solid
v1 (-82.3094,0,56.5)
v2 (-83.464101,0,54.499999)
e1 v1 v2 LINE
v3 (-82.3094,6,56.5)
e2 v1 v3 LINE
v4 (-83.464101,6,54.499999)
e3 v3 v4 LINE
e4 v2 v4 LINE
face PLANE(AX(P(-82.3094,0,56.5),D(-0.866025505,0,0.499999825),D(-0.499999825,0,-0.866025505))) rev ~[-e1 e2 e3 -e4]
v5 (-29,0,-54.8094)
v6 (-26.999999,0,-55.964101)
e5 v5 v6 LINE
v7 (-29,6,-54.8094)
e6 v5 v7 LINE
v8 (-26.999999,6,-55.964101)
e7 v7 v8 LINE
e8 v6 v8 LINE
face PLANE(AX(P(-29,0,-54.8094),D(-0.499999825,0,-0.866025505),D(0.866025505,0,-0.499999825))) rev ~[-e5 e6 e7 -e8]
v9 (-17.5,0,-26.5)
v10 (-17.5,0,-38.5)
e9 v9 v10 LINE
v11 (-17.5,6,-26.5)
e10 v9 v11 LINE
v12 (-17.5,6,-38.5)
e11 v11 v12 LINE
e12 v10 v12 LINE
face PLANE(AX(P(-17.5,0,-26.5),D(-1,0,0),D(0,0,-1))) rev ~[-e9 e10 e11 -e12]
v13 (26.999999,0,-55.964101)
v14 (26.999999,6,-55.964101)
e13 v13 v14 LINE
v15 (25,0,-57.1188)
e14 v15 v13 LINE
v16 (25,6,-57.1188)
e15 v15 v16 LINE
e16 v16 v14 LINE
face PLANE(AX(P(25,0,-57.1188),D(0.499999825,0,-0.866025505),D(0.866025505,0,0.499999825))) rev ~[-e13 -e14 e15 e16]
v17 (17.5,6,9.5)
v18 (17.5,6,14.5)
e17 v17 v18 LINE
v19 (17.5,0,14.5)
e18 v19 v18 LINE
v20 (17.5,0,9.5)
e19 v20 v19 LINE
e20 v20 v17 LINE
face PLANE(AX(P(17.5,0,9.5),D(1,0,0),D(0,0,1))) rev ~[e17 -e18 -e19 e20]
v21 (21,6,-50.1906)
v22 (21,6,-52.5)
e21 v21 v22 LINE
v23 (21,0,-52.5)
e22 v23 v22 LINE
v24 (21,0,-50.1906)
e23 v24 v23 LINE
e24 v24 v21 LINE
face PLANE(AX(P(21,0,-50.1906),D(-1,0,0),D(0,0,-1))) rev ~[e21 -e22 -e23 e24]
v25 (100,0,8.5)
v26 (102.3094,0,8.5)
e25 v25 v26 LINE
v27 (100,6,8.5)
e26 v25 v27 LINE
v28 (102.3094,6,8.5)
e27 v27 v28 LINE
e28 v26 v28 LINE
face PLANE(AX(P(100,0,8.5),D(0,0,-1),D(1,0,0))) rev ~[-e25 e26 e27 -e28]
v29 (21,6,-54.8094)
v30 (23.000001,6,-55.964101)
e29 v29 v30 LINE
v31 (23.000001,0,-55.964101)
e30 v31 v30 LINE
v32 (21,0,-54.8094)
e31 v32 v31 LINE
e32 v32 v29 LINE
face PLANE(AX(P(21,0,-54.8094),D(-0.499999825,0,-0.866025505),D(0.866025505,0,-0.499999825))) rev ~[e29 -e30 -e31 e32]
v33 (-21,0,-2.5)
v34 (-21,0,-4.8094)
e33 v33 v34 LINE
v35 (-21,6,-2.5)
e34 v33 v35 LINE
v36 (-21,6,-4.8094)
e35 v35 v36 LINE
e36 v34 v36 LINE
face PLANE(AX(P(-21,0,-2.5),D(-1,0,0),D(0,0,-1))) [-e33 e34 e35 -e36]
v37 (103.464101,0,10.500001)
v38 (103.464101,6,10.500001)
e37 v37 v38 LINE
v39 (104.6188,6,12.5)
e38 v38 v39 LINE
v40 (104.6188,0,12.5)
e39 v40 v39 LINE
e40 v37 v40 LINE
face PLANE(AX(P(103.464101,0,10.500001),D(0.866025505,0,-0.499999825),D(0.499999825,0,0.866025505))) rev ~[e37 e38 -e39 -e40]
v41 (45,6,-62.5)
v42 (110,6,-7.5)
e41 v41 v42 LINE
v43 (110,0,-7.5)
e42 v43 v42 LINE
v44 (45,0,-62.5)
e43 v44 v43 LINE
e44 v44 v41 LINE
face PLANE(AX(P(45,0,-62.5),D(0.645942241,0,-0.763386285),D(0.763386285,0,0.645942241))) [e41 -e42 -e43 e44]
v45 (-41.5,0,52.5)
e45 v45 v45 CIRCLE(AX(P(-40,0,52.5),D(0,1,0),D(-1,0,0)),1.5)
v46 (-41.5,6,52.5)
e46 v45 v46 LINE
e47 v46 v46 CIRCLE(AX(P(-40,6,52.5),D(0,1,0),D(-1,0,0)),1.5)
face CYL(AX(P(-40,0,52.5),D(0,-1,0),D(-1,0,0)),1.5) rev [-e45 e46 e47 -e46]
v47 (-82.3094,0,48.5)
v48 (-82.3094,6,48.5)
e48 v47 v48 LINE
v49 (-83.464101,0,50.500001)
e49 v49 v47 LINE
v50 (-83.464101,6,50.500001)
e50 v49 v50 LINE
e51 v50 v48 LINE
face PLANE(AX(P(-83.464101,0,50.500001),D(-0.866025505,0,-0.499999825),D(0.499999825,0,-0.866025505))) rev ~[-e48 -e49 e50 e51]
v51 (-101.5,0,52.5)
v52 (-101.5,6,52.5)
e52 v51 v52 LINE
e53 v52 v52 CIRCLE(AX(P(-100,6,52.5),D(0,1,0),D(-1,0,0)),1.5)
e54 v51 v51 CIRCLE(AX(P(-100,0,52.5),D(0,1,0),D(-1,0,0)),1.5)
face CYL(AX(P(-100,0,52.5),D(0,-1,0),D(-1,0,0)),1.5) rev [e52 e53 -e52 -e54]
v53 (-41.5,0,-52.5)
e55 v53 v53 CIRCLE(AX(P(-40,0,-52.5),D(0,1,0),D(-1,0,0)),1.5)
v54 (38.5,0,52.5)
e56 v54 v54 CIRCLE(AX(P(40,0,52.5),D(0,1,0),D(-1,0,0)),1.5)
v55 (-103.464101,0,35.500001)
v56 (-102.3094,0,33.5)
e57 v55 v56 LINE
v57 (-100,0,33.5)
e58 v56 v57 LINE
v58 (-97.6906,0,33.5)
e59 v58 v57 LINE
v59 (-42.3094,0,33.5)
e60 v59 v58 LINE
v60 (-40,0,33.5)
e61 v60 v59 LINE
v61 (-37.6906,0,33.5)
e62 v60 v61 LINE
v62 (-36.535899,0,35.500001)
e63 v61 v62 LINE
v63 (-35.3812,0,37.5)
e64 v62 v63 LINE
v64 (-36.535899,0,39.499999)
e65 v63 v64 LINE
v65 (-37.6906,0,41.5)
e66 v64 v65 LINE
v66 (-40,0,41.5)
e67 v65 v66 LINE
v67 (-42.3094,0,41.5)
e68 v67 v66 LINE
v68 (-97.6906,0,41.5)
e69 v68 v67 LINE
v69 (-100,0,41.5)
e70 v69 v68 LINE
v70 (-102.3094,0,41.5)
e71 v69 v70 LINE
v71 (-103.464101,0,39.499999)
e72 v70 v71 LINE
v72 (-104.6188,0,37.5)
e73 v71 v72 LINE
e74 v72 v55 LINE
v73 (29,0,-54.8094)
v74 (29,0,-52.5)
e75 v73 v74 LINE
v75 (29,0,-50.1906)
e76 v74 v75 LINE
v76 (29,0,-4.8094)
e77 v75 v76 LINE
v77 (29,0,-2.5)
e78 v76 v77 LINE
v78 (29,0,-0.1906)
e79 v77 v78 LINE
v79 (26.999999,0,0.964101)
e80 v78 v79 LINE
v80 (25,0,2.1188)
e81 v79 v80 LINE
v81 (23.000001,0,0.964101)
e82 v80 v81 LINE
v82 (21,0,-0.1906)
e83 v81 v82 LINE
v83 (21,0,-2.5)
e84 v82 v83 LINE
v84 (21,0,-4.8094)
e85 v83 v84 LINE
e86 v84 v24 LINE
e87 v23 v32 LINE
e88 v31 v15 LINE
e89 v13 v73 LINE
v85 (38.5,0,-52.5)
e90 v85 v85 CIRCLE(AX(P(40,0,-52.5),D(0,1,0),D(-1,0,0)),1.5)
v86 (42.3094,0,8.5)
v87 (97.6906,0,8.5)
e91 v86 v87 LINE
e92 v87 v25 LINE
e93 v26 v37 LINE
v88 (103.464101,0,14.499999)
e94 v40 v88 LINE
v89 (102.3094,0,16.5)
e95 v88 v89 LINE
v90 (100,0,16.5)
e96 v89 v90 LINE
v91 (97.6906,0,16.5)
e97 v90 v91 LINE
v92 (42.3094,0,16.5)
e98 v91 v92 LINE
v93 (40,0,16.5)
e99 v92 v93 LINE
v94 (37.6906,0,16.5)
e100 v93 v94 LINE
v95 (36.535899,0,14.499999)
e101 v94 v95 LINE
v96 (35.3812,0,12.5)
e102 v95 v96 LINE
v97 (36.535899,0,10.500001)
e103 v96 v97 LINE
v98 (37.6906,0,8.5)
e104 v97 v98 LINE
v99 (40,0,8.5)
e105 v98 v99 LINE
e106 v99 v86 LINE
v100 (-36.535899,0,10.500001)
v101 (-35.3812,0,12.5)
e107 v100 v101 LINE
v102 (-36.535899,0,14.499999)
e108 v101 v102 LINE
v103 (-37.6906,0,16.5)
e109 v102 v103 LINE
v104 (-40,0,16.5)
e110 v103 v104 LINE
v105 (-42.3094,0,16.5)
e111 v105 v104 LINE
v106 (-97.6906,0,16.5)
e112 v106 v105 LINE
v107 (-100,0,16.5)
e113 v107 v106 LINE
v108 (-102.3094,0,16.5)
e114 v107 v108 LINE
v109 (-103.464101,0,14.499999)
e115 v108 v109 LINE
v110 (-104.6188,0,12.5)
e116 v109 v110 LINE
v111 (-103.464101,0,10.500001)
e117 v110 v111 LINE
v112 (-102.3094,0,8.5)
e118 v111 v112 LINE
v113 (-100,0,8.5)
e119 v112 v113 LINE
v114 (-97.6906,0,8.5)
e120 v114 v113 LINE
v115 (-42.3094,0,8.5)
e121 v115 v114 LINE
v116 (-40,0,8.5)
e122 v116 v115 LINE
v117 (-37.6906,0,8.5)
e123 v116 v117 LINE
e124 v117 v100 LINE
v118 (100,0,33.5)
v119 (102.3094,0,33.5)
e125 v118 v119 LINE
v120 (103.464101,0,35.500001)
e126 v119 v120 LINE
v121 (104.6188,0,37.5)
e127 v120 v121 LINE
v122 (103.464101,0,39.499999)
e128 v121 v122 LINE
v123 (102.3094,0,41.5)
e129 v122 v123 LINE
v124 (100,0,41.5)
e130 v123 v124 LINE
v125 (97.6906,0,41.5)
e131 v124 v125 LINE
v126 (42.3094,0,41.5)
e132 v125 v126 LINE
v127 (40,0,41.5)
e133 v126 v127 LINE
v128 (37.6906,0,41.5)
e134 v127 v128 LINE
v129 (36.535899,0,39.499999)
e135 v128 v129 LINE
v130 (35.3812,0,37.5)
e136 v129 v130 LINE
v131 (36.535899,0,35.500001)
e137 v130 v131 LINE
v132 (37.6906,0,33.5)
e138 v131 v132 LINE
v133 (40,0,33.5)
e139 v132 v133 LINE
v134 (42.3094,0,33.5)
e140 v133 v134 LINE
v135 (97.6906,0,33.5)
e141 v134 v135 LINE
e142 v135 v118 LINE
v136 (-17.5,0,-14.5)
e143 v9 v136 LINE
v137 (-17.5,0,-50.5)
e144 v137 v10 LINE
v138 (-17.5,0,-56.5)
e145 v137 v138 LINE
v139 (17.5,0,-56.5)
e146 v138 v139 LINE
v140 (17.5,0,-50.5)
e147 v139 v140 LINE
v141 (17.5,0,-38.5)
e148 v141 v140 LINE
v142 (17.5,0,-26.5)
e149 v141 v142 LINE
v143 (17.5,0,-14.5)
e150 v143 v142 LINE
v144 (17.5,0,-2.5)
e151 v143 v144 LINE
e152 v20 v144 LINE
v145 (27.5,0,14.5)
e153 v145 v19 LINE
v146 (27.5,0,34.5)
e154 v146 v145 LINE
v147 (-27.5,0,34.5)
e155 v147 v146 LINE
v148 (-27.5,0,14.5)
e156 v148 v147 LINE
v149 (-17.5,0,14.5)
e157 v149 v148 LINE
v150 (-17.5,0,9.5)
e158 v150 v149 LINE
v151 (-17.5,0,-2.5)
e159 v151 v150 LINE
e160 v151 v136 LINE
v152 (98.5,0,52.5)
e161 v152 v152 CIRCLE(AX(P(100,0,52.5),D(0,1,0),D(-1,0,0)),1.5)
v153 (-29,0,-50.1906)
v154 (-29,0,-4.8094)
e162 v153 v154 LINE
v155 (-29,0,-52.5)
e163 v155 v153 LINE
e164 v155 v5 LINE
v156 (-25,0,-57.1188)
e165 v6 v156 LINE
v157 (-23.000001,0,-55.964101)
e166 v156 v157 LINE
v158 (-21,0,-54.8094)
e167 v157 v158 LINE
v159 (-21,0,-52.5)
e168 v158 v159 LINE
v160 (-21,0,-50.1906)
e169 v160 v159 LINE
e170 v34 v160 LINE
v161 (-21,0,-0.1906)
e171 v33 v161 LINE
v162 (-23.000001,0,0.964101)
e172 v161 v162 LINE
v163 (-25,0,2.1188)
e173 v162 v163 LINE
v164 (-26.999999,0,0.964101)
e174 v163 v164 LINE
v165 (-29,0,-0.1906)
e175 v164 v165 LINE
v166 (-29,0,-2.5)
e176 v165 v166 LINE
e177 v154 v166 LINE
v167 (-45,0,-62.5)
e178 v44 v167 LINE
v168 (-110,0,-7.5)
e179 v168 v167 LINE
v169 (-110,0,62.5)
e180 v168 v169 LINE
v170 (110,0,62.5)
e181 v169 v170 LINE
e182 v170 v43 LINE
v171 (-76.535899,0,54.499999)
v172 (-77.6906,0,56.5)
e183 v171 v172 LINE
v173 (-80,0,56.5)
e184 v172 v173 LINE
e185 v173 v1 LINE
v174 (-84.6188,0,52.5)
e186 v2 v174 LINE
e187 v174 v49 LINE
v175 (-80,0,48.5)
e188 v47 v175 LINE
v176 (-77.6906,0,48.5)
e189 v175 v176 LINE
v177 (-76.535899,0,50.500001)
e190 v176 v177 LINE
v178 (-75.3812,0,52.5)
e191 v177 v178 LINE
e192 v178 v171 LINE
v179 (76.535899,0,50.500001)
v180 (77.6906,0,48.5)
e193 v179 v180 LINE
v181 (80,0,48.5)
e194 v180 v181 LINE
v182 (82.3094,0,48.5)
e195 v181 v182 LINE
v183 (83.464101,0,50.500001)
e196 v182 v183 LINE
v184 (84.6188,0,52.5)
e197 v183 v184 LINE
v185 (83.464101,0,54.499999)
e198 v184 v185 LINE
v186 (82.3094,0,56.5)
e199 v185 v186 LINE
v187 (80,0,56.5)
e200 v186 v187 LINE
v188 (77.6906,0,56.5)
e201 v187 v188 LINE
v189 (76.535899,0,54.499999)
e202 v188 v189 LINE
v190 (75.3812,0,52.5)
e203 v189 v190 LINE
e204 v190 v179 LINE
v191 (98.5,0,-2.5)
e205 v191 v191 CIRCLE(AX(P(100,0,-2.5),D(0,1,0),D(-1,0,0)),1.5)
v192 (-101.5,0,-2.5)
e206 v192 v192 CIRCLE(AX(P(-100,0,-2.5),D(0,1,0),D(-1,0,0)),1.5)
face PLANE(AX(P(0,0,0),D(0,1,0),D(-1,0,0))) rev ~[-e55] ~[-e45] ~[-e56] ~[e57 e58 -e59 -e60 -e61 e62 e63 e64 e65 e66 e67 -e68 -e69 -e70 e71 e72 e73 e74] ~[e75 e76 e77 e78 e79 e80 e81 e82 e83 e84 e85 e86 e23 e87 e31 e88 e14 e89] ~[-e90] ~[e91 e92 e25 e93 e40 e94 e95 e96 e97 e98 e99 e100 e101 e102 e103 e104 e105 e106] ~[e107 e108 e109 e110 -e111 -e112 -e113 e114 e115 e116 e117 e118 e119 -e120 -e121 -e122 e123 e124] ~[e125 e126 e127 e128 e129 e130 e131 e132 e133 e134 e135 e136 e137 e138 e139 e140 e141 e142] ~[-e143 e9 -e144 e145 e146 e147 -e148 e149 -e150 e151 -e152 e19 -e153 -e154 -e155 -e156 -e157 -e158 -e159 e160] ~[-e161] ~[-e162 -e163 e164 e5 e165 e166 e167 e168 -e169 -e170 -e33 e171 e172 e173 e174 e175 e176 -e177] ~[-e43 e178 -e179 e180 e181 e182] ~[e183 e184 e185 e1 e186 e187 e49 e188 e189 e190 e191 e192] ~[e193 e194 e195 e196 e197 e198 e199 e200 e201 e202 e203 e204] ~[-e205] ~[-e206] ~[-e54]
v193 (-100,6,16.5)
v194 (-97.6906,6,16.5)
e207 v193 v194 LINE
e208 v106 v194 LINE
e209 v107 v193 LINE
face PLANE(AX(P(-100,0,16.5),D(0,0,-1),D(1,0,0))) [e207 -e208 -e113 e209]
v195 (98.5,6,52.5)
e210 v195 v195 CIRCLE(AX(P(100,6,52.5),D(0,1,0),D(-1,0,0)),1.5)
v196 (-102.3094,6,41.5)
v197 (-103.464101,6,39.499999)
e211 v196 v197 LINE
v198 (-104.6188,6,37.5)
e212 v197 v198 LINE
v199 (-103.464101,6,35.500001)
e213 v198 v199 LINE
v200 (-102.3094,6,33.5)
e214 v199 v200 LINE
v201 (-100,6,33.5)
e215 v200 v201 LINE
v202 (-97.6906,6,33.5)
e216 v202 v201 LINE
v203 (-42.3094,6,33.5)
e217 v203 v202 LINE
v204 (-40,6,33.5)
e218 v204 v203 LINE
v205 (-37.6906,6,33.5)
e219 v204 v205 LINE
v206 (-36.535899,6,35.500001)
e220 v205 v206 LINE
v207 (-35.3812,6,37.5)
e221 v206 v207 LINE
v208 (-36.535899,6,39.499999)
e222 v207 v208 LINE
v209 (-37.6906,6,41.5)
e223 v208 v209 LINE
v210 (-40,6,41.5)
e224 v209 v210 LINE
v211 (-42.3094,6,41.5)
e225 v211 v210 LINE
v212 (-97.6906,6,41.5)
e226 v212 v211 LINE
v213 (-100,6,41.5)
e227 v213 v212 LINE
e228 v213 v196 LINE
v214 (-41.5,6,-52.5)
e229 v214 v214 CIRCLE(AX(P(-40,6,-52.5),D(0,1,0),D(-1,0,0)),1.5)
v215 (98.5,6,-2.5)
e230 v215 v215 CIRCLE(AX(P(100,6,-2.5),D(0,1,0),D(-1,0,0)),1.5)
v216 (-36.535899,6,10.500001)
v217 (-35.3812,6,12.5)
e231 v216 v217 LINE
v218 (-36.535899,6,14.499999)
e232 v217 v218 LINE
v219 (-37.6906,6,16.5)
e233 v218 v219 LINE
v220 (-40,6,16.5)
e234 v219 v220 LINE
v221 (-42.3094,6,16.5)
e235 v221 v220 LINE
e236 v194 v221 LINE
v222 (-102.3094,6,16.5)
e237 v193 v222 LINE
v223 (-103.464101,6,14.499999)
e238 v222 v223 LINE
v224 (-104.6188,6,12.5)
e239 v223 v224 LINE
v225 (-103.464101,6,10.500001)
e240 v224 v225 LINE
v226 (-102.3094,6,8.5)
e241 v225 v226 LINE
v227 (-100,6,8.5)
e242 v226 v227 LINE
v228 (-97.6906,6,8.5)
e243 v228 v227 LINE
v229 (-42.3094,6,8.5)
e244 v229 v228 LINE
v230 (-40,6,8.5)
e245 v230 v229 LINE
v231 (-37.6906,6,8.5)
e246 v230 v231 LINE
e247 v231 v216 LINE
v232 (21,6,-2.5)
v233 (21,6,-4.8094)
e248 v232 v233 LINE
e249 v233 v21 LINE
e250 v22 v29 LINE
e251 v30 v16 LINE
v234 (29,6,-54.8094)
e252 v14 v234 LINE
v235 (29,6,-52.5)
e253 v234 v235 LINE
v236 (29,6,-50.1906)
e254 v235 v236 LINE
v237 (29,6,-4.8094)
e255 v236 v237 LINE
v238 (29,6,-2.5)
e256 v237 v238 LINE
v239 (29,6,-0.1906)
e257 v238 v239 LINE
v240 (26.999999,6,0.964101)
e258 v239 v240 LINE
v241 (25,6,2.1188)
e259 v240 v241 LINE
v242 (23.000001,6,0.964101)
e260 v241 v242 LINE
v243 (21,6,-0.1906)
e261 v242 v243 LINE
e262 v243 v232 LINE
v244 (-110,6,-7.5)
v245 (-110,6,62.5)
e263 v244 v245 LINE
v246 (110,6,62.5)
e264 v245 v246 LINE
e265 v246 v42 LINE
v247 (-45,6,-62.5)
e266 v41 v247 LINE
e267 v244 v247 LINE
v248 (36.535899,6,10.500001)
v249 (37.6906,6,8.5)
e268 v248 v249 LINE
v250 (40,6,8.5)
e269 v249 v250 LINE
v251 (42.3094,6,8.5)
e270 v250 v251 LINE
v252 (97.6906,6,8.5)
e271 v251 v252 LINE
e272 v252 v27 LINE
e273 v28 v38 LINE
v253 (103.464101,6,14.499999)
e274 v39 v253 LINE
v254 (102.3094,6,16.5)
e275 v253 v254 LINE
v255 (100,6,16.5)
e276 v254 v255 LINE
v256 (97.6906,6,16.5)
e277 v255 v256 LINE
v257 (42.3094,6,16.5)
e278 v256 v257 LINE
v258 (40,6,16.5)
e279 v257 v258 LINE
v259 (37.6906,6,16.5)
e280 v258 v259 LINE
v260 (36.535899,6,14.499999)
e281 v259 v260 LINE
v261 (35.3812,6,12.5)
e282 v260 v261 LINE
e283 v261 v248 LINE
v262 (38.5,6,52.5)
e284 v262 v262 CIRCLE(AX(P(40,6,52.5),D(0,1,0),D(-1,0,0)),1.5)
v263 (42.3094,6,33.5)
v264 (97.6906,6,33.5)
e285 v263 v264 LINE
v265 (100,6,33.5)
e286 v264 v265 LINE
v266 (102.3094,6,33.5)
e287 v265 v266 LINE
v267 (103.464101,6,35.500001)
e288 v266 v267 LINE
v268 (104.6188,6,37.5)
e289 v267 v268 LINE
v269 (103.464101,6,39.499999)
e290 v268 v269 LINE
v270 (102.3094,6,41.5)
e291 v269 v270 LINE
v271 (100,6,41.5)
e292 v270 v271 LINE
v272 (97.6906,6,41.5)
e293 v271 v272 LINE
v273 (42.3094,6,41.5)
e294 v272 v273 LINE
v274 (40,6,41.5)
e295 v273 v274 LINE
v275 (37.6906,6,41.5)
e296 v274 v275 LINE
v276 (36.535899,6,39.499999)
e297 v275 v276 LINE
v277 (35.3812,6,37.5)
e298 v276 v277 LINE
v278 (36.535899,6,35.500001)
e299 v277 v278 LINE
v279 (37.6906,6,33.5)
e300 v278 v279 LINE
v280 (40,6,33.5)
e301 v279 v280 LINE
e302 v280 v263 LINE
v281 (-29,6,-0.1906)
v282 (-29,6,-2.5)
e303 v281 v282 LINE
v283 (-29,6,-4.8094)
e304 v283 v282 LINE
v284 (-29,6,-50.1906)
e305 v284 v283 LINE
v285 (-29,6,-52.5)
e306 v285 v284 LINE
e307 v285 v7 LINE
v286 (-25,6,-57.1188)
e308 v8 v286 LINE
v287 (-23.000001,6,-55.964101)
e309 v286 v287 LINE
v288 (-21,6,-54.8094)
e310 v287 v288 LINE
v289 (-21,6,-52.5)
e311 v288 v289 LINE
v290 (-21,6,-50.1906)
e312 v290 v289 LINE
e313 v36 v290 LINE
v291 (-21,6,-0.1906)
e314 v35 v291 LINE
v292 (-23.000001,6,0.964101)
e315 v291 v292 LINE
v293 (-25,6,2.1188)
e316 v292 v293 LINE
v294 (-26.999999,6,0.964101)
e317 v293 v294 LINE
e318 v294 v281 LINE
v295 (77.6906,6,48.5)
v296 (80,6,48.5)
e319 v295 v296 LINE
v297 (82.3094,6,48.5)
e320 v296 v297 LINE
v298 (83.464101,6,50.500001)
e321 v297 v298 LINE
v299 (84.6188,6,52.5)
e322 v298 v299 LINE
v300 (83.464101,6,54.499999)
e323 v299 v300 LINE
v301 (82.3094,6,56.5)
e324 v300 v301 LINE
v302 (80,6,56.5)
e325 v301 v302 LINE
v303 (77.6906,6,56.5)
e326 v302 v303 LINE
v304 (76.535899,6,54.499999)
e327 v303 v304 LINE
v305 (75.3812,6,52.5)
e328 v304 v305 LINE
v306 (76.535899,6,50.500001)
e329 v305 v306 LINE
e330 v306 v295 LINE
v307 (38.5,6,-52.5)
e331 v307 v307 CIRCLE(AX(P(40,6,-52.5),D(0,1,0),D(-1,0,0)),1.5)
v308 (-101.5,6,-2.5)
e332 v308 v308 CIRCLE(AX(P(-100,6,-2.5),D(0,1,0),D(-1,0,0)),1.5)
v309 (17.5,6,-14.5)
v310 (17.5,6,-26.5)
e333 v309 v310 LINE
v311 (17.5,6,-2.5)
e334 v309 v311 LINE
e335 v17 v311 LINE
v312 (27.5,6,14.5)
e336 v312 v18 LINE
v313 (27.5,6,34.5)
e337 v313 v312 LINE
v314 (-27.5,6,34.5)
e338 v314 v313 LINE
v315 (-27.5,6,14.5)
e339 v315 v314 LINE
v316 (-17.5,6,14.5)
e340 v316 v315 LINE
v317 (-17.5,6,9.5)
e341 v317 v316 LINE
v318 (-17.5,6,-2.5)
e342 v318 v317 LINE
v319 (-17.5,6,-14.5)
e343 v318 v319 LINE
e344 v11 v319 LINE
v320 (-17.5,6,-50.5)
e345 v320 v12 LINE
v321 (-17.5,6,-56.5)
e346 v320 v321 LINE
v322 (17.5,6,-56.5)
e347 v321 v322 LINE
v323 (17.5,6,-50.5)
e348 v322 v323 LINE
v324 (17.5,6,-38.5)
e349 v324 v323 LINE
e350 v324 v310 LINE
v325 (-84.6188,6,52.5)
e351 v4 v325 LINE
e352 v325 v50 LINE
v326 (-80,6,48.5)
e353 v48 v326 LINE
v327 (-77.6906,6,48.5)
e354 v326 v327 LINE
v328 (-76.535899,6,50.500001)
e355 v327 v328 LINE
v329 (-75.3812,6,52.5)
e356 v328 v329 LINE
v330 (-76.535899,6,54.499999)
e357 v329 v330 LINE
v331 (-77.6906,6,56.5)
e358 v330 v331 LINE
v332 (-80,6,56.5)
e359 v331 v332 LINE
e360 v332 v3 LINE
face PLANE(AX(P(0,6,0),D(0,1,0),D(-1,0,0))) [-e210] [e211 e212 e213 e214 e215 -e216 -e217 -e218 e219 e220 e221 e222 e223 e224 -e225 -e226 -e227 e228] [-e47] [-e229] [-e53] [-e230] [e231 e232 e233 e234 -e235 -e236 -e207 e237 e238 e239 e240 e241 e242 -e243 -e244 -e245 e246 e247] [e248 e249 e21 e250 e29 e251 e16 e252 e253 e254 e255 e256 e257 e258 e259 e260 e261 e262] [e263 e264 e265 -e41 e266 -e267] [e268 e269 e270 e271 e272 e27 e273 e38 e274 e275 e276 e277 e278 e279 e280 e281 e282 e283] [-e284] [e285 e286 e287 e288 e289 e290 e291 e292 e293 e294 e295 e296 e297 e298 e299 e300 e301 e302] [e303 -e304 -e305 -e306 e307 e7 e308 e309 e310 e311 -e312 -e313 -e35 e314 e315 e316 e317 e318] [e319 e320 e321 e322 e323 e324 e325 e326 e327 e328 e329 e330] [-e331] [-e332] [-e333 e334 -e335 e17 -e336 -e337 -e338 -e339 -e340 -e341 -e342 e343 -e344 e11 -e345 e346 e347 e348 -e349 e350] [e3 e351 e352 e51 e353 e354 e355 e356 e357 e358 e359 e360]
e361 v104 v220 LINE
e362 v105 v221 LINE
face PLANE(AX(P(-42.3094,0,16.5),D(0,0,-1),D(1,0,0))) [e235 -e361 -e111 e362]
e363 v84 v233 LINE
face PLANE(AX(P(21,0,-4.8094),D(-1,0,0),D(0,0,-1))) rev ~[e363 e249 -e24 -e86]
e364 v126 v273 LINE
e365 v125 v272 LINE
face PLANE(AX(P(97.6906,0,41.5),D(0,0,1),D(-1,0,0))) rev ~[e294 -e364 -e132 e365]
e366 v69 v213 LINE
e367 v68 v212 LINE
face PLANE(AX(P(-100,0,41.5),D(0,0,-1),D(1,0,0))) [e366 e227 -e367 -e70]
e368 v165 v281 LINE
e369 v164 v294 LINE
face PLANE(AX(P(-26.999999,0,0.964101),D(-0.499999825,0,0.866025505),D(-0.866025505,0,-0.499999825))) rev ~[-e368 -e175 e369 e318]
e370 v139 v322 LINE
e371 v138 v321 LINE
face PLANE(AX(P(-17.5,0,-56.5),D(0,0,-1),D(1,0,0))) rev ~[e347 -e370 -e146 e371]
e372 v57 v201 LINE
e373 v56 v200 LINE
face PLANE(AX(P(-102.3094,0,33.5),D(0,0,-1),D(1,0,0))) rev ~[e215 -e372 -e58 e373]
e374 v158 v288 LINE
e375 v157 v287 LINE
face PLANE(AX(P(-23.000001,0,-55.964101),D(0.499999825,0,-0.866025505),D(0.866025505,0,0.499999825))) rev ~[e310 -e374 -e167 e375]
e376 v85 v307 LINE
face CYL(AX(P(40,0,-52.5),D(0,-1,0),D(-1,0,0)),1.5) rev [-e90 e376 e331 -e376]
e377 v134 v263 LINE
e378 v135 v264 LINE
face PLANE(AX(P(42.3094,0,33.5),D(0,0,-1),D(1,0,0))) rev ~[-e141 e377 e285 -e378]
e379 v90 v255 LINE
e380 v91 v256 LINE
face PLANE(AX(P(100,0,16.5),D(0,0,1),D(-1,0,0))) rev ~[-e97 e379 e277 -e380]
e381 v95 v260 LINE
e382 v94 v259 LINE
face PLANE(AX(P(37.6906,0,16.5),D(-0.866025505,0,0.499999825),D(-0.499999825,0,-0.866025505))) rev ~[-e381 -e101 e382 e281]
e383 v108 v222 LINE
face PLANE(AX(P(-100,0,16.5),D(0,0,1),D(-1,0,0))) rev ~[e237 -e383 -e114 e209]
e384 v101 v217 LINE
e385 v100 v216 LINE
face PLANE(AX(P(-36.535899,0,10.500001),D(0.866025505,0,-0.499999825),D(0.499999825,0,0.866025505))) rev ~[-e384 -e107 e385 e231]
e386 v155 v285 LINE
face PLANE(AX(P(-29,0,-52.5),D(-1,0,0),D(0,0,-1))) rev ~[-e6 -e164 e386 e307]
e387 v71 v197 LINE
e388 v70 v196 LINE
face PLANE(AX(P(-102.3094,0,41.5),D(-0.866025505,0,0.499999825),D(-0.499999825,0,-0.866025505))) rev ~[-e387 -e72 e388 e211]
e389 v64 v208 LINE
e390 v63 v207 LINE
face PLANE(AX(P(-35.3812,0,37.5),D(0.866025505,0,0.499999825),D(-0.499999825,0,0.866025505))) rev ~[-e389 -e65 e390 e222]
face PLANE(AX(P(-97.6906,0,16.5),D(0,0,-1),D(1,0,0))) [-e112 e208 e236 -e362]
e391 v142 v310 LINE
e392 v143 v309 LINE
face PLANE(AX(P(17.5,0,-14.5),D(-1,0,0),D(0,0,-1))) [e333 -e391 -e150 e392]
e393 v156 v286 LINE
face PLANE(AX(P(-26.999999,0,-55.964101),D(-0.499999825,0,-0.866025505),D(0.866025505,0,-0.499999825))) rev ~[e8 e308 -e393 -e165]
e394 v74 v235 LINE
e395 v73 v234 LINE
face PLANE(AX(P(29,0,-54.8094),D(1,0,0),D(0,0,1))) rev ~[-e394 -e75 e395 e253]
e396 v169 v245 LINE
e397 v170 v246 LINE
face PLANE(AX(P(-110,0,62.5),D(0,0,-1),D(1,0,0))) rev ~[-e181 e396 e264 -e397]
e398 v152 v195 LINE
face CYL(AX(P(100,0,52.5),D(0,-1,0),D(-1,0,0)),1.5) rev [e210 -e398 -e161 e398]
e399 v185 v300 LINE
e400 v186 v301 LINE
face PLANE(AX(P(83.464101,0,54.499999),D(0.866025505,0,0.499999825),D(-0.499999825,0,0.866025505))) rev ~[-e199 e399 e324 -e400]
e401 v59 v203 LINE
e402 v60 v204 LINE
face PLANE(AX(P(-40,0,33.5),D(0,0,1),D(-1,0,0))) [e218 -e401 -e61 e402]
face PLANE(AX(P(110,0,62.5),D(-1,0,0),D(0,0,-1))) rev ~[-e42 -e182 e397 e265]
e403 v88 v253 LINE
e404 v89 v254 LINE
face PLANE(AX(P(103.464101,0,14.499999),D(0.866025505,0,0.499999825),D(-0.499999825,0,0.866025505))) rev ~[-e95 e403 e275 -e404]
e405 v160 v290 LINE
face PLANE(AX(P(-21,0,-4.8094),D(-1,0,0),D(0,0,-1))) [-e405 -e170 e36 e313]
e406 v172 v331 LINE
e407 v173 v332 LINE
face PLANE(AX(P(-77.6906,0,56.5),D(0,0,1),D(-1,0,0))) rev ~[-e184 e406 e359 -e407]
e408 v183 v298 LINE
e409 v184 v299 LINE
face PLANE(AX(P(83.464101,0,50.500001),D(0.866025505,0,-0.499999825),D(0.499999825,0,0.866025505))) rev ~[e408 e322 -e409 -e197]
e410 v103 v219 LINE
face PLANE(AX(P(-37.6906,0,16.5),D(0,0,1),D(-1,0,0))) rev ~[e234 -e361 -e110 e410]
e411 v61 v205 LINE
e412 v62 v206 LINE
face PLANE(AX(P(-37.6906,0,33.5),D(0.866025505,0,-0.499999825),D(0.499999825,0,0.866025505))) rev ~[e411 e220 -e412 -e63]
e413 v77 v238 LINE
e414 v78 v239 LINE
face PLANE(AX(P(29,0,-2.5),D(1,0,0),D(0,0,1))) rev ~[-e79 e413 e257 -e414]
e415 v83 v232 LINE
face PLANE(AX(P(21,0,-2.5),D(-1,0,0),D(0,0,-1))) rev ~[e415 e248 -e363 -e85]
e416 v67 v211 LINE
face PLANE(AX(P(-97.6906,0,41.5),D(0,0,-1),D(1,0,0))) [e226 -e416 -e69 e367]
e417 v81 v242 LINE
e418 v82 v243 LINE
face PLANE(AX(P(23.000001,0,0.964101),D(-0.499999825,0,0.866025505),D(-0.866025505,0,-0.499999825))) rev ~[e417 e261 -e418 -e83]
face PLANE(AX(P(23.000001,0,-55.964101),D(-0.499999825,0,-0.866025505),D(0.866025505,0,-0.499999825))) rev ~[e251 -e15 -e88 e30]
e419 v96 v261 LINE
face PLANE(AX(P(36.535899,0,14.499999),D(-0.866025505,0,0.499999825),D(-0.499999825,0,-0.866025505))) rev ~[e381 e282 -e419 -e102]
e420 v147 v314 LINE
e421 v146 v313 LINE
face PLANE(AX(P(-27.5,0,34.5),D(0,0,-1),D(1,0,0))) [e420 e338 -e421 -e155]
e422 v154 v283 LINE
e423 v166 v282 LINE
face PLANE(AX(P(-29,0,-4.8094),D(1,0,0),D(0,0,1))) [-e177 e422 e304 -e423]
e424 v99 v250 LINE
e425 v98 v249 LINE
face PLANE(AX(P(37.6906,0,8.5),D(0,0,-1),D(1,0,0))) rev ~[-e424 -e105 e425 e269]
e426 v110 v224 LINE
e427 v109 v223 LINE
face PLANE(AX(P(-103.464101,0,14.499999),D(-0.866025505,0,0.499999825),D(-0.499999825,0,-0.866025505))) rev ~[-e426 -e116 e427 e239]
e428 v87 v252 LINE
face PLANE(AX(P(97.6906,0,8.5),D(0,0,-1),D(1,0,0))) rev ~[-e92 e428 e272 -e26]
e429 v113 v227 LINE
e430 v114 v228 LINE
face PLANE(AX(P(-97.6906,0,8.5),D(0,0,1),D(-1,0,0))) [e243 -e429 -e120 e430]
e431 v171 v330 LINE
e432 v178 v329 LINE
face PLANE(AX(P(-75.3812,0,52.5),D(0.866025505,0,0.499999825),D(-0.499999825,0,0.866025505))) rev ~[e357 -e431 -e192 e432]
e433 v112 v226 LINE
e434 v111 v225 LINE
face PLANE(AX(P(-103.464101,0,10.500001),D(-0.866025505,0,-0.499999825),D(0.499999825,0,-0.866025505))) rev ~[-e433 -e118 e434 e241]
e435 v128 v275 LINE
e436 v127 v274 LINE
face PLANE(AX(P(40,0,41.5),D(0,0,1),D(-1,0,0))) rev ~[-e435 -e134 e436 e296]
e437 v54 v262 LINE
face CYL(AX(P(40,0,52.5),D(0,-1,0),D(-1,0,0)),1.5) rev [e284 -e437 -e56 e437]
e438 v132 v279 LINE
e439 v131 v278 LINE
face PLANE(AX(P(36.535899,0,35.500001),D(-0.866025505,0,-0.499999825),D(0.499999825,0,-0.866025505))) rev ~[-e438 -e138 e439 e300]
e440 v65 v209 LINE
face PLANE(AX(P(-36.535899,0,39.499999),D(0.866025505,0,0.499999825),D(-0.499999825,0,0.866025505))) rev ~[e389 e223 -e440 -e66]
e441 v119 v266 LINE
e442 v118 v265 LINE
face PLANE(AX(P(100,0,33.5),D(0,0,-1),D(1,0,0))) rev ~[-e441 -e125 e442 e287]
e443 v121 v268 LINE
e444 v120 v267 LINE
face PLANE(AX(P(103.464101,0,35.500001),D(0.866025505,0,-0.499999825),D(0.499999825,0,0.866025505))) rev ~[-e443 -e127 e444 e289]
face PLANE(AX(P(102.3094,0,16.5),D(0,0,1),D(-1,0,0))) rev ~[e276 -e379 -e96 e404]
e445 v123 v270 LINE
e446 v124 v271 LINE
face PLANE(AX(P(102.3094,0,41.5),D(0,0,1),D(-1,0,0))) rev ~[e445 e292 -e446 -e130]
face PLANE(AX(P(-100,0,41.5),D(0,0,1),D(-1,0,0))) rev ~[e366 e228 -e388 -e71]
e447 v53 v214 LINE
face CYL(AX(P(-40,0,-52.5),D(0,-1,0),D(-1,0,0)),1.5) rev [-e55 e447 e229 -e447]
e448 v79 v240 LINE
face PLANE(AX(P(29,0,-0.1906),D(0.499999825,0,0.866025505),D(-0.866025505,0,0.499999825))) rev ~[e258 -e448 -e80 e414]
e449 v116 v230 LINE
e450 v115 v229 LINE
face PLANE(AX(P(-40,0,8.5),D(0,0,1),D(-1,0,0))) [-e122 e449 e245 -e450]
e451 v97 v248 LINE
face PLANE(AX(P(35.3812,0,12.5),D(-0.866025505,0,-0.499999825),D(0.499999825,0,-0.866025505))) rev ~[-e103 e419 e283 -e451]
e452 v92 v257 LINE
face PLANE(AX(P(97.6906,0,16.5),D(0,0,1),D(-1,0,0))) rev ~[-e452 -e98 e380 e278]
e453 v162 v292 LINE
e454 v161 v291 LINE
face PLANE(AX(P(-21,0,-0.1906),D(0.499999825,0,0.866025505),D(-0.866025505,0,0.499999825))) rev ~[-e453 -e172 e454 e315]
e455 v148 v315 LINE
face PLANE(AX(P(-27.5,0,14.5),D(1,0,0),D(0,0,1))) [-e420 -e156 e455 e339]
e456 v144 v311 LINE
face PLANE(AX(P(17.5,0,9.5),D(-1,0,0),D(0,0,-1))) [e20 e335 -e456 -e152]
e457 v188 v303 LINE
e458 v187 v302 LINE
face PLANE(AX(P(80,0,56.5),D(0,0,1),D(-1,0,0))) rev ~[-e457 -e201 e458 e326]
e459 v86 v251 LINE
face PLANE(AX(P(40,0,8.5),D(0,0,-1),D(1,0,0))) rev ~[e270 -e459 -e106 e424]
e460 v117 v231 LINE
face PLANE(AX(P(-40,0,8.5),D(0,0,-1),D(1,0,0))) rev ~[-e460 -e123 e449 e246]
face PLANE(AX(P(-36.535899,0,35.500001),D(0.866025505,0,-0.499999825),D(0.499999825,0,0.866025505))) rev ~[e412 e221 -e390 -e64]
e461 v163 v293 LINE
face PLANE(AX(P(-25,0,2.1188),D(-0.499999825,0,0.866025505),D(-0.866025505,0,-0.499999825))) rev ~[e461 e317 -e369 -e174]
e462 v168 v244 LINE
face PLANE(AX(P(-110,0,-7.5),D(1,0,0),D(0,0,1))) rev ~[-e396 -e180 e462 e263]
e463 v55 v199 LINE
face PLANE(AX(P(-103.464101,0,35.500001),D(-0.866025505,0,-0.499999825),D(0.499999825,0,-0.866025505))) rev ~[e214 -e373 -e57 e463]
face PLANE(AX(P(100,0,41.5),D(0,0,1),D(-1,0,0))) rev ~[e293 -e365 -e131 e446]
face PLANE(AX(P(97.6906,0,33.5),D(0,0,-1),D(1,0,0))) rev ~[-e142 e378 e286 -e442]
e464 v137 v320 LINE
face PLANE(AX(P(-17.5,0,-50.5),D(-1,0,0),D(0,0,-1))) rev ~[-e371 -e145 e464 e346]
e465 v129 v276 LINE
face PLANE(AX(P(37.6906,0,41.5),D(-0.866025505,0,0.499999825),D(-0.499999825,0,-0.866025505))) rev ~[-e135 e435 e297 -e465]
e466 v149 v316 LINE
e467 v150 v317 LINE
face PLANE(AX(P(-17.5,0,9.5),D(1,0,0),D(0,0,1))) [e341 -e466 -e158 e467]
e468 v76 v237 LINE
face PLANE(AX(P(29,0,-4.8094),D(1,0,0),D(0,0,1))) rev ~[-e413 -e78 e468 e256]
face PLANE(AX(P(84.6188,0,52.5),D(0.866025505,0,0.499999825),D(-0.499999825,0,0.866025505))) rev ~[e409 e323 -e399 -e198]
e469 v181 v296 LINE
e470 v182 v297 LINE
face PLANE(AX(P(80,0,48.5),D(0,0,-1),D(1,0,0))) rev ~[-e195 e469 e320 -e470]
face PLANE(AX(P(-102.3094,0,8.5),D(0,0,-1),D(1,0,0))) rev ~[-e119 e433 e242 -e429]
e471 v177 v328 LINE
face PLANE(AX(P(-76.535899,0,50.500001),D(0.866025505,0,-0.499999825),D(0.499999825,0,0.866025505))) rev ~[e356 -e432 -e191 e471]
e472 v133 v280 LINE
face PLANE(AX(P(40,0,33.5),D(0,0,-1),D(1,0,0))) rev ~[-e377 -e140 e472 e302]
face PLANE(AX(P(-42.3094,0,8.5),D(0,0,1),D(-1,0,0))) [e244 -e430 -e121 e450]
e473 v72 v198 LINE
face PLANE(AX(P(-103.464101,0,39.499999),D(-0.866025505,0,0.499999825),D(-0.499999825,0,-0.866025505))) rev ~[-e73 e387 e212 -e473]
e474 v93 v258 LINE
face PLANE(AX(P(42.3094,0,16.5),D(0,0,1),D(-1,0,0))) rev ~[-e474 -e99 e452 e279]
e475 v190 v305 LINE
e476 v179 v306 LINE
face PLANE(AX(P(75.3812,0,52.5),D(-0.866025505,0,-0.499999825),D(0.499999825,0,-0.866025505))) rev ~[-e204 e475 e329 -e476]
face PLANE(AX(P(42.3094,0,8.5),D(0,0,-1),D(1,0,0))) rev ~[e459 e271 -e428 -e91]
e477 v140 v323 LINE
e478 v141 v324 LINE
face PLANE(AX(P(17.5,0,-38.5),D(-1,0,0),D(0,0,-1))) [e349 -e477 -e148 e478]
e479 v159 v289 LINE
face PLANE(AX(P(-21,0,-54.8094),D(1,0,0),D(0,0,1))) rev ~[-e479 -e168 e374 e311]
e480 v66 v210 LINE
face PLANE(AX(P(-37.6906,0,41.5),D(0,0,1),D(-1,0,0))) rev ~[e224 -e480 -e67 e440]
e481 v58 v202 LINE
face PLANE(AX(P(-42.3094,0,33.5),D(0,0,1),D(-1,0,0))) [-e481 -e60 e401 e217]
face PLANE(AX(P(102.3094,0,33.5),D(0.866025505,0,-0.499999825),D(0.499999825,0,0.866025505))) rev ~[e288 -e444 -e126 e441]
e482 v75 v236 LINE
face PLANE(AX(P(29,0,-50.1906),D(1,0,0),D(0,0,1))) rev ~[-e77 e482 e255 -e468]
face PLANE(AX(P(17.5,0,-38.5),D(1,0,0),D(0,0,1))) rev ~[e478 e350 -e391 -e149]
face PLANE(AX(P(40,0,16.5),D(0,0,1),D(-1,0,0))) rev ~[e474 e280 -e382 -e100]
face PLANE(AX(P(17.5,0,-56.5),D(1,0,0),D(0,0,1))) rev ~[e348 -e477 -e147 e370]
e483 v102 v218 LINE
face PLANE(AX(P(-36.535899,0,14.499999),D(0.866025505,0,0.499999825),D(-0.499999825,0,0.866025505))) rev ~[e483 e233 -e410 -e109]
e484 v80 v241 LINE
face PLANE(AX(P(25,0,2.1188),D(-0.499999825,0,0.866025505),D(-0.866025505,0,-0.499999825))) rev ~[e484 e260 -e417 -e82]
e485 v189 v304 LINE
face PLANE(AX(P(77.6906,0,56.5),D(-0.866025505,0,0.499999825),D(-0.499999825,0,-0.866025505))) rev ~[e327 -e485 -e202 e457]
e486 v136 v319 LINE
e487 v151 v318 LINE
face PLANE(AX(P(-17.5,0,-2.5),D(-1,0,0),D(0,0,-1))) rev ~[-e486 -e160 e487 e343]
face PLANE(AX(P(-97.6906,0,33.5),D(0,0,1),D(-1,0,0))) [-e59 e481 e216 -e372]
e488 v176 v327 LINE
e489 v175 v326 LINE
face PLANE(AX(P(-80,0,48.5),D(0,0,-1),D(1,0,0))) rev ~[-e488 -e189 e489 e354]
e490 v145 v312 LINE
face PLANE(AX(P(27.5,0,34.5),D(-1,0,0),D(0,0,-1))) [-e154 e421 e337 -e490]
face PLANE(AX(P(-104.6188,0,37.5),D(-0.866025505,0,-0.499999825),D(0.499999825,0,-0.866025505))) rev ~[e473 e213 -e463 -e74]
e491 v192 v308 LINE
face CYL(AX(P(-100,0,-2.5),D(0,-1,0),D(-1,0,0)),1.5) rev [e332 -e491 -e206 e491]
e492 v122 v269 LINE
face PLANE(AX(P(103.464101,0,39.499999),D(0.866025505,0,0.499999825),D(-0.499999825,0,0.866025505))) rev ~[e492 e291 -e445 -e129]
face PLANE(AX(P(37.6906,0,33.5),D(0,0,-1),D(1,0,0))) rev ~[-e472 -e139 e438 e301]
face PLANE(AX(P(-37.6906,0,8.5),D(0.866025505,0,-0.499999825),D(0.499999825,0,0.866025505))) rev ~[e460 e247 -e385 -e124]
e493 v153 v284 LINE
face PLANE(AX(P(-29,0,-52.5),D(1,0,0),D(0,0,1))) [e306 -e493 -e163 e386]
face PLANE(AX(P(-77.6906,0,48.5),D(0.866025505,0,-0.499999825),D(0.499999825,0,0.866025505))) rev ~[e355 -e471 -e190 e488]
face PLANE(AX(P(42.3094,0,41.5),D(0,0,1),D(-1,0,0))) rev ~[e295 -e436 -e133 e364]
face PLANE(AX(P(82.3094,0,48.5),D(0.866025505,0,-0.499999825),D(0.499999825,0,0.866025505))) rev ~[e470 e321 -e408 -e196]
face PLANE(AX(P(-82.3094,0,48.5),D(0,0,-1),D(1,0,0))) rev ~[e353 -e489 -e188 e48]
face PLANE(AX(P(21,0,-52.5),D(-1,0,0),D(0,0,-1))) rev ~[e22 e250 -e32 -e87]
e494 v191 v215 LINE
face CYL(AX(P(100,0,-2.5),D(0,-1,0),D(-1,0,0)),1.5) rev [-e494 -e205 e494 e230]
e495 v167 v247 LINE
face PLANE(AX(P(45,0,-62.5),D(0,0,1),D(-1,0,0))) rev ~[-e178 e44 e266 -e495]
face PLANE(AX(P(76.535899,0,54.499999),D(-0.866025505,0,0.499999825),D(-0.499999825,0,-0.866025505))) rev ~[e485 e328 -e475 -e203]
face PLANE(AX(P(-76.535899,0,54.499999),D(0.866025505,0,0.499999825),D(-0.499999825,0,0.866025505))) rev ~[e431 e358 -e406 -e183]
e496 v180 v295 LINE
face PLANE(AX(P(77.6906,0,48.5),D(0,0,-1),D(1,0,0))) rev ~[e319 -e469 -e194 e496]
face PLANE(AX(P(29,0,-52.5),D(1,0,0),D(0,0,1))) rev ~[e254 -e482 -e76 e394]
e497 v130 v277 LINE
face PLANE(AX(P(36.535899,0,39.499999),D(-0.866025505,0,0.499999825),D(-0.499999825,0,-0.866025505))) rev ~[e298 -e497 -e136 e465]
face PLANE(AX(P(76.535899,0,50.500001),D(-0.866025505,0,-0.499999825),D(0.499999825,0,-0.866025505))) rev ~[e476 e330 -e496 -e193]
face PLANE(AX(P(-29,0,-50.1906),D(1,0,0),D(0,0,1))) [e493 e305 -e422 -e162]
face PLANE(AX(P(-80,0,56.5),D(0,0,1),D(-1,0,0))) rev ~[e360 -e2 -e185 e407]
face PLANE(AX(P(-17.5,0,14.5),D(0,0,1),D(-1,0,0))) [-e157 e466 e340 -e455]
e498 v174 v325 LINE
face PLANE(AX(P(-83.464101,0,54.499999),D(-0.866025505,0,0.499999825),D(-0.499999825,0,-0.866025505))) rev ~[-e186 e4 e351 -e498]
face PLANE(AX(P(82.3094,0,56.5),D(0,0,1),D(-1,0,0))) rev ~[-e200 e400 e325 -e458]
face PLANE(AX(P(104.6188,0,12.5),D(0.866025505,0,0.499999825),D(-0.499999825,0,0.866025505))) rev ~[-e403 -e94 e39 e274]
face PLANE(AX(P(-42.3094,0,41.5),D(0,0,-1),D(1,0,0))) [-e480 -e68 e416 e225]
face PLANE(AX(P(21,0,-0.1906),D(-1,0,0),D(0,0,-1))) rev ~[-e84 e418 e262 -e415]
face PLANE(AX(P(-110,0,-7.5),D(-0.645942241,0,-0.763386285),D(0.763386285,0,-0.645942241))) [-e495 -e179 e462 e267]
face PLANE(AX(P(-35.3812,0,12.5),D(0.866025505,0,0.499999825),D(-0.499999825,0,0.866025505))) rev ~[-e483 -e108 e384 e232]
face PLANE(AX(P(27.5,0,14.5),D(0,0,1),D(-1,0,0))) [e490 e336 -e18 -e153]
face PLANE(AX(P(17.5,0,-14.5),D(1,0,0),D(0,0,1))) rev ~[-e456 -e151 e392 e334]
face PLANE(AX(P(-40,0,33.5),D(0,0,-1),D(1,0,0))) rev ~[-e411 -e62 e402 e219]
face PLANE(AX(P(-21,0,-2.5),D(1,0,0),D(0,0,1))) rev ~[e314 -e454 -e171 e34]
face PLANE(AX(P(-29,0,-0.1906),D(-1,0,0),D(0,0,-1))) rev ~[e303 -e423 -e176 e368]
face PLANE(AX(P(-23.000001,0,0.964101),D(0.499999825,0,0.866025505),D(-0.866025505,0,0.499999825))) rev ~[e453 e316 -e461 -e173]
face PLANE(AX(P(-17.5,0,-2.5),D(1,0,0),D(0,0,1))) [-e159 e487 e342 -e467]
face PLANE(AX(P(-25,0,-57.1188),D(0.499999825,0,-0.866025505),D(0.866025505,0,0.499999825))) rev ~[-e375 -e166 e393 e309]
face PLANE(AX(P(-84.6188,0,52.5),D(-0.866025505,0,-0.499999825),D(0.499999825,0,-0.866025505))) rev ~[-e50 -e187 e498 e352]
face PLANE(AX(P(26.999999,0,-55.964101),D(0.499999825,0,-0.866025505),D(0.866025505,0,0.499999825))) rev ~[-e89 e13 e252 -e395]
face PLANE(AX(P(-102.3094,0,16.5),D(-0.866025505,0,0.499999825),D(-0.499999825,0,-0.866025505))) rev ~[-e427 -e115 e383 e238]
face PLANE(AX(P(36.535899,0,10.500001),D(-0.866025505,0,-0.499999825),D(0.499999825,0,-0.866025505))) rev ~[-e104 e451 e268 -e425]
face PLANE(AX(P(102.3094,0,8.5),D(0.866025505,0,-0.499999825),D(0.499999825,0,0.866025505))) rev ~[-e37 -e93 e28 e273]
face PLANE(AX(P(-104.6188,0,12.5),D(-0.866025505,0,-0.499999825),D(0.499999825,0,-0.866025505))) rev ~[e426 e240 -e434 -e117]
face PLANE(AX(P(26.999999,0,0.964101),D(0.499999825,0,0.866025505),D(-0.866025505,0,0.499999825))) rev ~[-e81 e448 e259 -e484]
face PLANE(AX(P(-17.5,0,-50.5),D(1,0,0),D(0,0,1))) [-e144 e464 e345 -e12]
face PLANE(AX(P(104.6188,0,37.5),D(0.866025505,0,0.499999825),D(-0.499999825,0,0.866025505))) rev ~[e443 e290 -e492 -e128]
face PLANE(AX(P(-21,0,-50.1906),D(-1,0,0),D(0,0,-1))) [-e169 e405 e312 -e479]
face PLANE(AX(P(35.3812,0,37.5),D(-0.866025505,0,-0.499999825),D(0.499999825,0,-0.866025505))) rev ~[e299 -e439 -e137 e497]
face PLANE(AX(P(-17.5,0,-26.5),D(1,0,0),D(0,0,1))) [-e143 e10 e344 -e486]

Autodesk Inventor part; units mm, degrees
ref_plane "YZ Plane" through (0, 0, 0) normal (1, 0, 0) x (0, 1, 0)
ref_plane "XZ Plane" through (0, 0, 0) normal (0, 1, 0) x (-1, 0, 0)
ref_plane "XY Plane" through (0, 0, 0) normal (0, 0, 1) x (1, 0, 0)
sketch "Sketch2" plane through (0, 0, 0) normal (0, 1, 0) x (-1, 0, 0)
  line L0 (110, 62.5) -> (-110, 62.5)
  line L1 (-110, 62.5) -> (-110, -62.5)
  line L2 (-110, -62.5) -> (110, -62.5)
  line L3 (110, -62.5) -> (110, 62.5)
  line L4 (110, 62.5) -> (-110, -62.5) construction
  line L5 (-110, 62.5) -> (110, -62.5) construction
  line L6 (11.5, -50.5) -> (17.5, -50.5)
  line L7 (17.5, -50.5) -> (17.5, -38.5)
  line L8 (17.5, -38.5) -> (11.5, -38.5)
  line L9 (11.5, -38.5) -> (11.5, -50.5)
  line L10 (11.5, -26.5) -> (17.5, -26.5)
  line L11 (17.5, -26.5) -> (17.5, -14.5)
  line L12 (17.5, -14.5) -> (11.5, -14.5)
  line L13 (11.5, -14.5) -> (11.5, -26.5)
  line L14 (11.5, -2.5) -> (17.5, -2.5)
  line L15 (17.5, -2.5) -> (17.5, 9.5)
  line L16 (17.5, 9.5) -> (11.5, 9.5)
  line L17 (11.5, 9.5) -> (11.5, -2.5)
  line L18 (-17.5, -50.5) -> (-11.5, -50.5)
  line L19 (-11.5, -50.5) -> (-11.5, -38.5)
  line L20 (-11.5, -38.5) -> (-17.5, -38.5)
  line L21 (-17.5, -38.5) -> (-17.5, -50.5)
  line L22 (-17.5, -26.5) -> (-11.5, -26.5)
  line L23 (-11.5, -26.5) -> (-11.5, -14.5)
  line L24 (-11.5, -14.5) -> (-17.5, -14.5)
  line L25 (-17.5, -14.5) -> (-17.5, -26.5)
  line L26 (-17.5, -2.5) -> (-11.5, -2.5)
  line L27 (-11.5, -2.5) -> (-11.5, 9.5)
  line L28 (-11.5, 9.5) -> (-17.5, 9.5)
  line L29 (-17.5, 9.5) -> (-17.5, -2.5)
  line L30 (0, 0) -> (0, -18.9718)
  line L31 (25, -2.5) -> (25, -52.5) construction
  line L32 (21, -2.5) -> (21, -52.5)
  line L33 (29, -52.5) -> (29, -2.5)
  arc A0 (29, -2.5) -> (21, -2.5) centre (25, -2.5) ccw
  arc A1 (21, -52.5) -> (29, -52.5) centre (25, -52.5) ccw
  line L34 (100, 12.5) -> (40, 12.5) construction
  line L35 (100, 16.5) -> (40, 16.5)
  line L36 (40, 8.5) -> (100, 8.5)
  arc A2 (100, 8.5) -> (100, 16.5) centre (100, 12.5) ccw
  arc A3 (40, 16.5) -> (40, 8.5) centre (40, 12.5) ccw
  line L37 (100, 37.5) -> (40, 37.5) construction
  line L38 (100, 41.5) -> (40, 41.5)
  line L39 (40, 33.5) -> (100, 33.5)
  arc A4 (100, 33.5) -> (100, 41.5) centre (100, 37.5) ccw
  arc A5 (40, 41.5) -> (40, 33.5) centre (40, 37.5) ccw
  line L40 (-25, -2.5) -> (-25, -52.5) construction
  line L41 (-21, -2.5) -> (-21, -52.5)
  line L42 (-29, -52.5) -> (-29, -2.5)
  arc A6 (-21, -2.5) -> (-29, -2.5) centre (-25, -2.5) ccw
  arc A7 (-29, -52.5) -> (-21, -52.5) centre (-25, -52.5) ccw
  line L43 (-100, 12.5) -> (-40, 12.5) construction
  line L44 (-100, 16.5) -> (-40, 16.5)
  line L45 (-40, 8.5) -> (-100, 8.5)
  arc A8 (-100, 16.5) -> (-100, 8.5) centre (-100, 12.5) ccw
  arc A9 (-40, 8.5) -> (-40, 16.5) centre (-40, 12.5) ccw
  line L46 (-100, 37.5) -> (-40, 37.5) construction
  line L47 (-100, 41.5) -> (-40, 41.5)
  line L48 (-40, 33.5) -> (-100, 33.5)
  arc A10 (-100, 41.5) -> (-100, 33.5) centre (-100, 37.5) ccw
  arc A11 (-40, 33.5) -> (-40, 41.5) centre (-40, 37.5) ccw
  circle A12 centre (80, 52.5) radius 4
  circle A13 centre (-80, 52.5) radius 4
  line L49 (110, -7.5) -> (45, -62.5)
  line L50 (-45, -62.5) -> (-110, -7.5)
  line L51 (29, -4.8094) -> (25, -7.1188)
  line L52 (25, -7.1188) -> (21, -4.8094)
  line L53 (21, -4.8094) -> (21, -0.1906)
  line L54 (21, -0.1906) -> (25, 2.1188)
  line L55 (25, 2.1188) -> (29, -0.1906)
  line L56 (29, -0.1906) -> (29, -4.8094)
  line L57 (29, -54.8094) -> (25, -57.1188)
  line L58 (25, -57.1188) -> (21, -54.8094)
  line L59 (21, -54.8094) -> (21, -50.1906)
  line L60 (21, -50.1906) -> (25, -47.8812)
  line L61 (25, -47.8812) -> (29, -50.1906)
  line L62 (29, -50.1906) -> (29, -54.8094)
  line L63 (-21, -54.8094) -> (-25, -57.1188)
  line L64 (-25, -57.1188) -> (-29, -54.8094)
  line L65 (-29, -54.8094) -> (-29, -50.1906)
  line L66 (-29, -50.1906) -> (-25, -47.8812)
  line L67 (-25, -47.8812) -> (-21, -50.1906)
  line L68 (-21, -50.1906) -> (-21, -54.8094)
  line L69 (-21, -4.8094) -> (-25, -7.1188)
  line L70 (-25, -7.1188) -> (-29, -4.8094)
  line L71 (-29, -4.8094) -> (-29, -0.1906)
  line L72 (-29, -0.1906) -> (-25, 2.1188)
  line L73 (-25, 2.1188) -> (-21, -0.1906)
  line L74 (-21, -0.1906) -> (-21, -4.8094)
  line L75 (-42.3094, 8.5) -> (-44.6188, 12.5)
  line L76 (-44.6188, 12.5) -> (-42.3094, 16.5)
  line L77 (-42.3094, 16.5) -> (-37.6906, 16.5)
  line L78 (-37.6906, 16.5) -> (-35.3812, 12.5)
  line L79 (-35.3812, 12.5) -> (-37.6906, 8.5)
  line L80 (-37.6906, 8.5) -> (-42.3094, 8.5)
  line L81 (-42.3094, 33.5) -> (-44.6188, 37.5)
  line L82 (-44.6188, 37.5) -> (-42.3094, 41.5)
  line L83 (-42.3094, 41.5) -> (-37.6906, 41.5)
  line L84 (-37.6906, 41.5) -> (-35.3812, 37.5)
  line L85 (-35.3812, 37.5) -> (-37.6906, 33.5)
  line L86 (-37.6906, 33.5) -> (-42.3094, 33.5)
  line L87 (-102.3094, 33.5) -> (-104.6188, 37.5)
  line L88 (-104.6188, 37.5) -> (-102.3094, 41.5)
  line L89 (-102.3094, 41.5) -> (-97.6906, 41.5)
  line L90 (-97.6906, 41.5) -> (-95.3812, 37.5)
  line L91 (-95.3812, 37.5) -> (-97.6906, 33.5)
  line L92 (-97.6906, 33.5) -> (-102.3094, 33.5)
  line L93 (-102.3094, 8.5) -> (-104.6188, 12.5)
  line L94 (-104.6188, 12.5) -> (-102.3094, 16.5)
  line L95 (-102.3094, 16.5) -> (-97.6906, 16.5)
  line L96 (-97.6906, 16.5) -> (-95.3812, 12.5)
  line L97 (-95.3812, 12.5) -> (-97.6906, 8.5)
  line L98 (-97.6906, 8.5) -> (-102.3094, 8.5)
  line L99 (-82.3094, 48.5) -> (-84.6188, 52.5)
  line L100 (-84.6188, 52.5) -> (-82.3094, 56.5)
  line L101 (-82.3094, 56.5) -> (-77.6906, 56.5)
  line L102 (-77.6906, 56.5) -> (-75.3812, 52.5)
  line L103 (-75.3812, 52.5) -> (-77.6906, 48.5)
  line L104 (-77.6906, 48.5) -> (-82.3094, 48.5)
  line L105 (77.6906, 48.5) -> (75.3812, 52.5)
  line L106 (75.3812, 52.5) -> (77.6906, 56.5)
  line L107 (77.6906, 56.5) -> (82.3094, 56.5)
  line L108 (82.3094, 56.5) -> (84.6188, 52.5)
  line L109 (84.6188, 52.5) -> (82.3094, 48.5)
  line L110 (82.3094, 48.5) -> (77.6906, 48.5)
  line L111 (97.6906, 33.5) -> (95.3812, 37.5)
  line L112 (95.3812, 37.5) -> (97.6906, 41.5)
  line L113 (97.6906, 41.5) -> (102.3094, 41.5)
  line L114 (102.3094, 41.5) -> (104.6188, 37.5)
  line L115 (104.6188, 37.5) -> (102.3094, 33.5)
  line L116 (102.3094, 33.5) -> (97.6906, 33.5)
  line L117 (102.3094, 16.5) -> (104.6188, 12.5)
  line L118 (104.6188, 12.5) -> (102.3094, 8.5)
  line L119 (102.3094, 8.5) -> (97.6906, 8.5)
  line L120 (97.6906, 8.5) -> (95.3812, 12.5)
  line L121 (95.3812, 12.5) -> (97.6906, 16.5)
  line L122 (97.6906, 16.5) -> (102.3094, 16.5)
  line L123 (42.3094, 16.5) -> (44.6188, 12.5)
  line L124 (44.6188, 12.5) -> (42.3094, 8.5)
  line L125 (42.3094, 8.5) -> (37.6906, 8.5)
  line L126 (37.6906, 8.5) -> (35.3812, 12.5)
  line L127 (35.3812, 12.5) -> (37.6906, 16.5)
  line L128 (37.6906, 16.5) -> (42.3094, 16.5)
  line L129 (37.6906, 33.5) -> (35.3812, 37.5)
  line L130 (35.3812, 37.5) -> (37.6906, 41.5)
  line L131 (37.6906, 41.5) -> (42.3094, 41.5)
  line L132 (42.3094, 41.5) -> (44.6188, 37.5)
  line L133 (44.6188, 37.5) -> (42.3094, 33.5)
  line L134 (42.3094, 33.5) -> (37.6906, 33.5)
  line L135 (17.5, 9.5) -> (17.5, 14.5)
  line L136 (17.5, -56.5) -> (-17.5, -56.5)
  line L137 (-17.5, -56.5) -> (-17.5, 14.5)
  line L138 (27.5, 34.5) -> (-27.5, 34.5)
  line L139 (-27.5, 34.5) -> (-27.5, 14.5)
  line L140 (-27.5, 14.5) -> (-17.5, 14.5)
  line L141 (27.5, 14.5) -> (27.5, 34.5)
  circle A14 centre (100, 52.5) radius 1.5
  circle A15 centre (40, 52.5) radius 1.5
  circle A16 centre (100, -2.5) radius 1.5
  circle A17 centre (40, -52.5) radius 1.5
  circle A18 centre (-100, 52.5) radius 1.5
  circle A19 centre (-40, 52.5) radius 1.5
  circle A20 centre (-100, -2.5) radius 1.5
  circle A21 centre (-40, -52.5) radius 1.5
  line L142 (17.5, 14.5) -> (17.5, -56.5)
  line L143 (17.5, 14.5) -> (27.5, 14.5)
  line L144 (-17.5, 14.5) -> (17.5, 14.5)
  line L145 (-17.5, 14.5) -> (-17.5, 9.5)
  line L146 (-17.5, -56.5) -> (17.5, -56.5)
  line L147 (17.5, -56.5) -> (17.5, 14.5)
  line L148 (17.5, 14.5) -> (-17.5, 14.5)
  line L149 (-17.5, 14.5) -> (-17.5, -56.5)
  point P0 (25, -27.5)
  point P1 (70, 12.5)
  point P2 (70, 37.5)
  point P3 (-25, -27.5)
  point P4 (-70, 12.5)
  point P5 (-70, 37.5)
  point P6 (-80, 48.5)
  point P7 (80, 48.5)
  dimension "d52" = 220
  dimension "d53" = 125
  dimension "d54" = 12
  dimension "d55" = 6
  dimension "d58" = 24
  dimension "d61" = 29
  dimension "d65" = 12
  dimension "d66" = 8
  dimension "d68" = 100
  dimension "d69" = 115
  dimension "d70" = 40
  dimension "d71" = 65
  dimension "d72" = 15
  dimension "d73" = 25
  dimension "d75" = 15
  dimension "d79" = 30
  dimension "d80" = 10
  dimension "d81" = 20
  dimension "d82" = 20
  dimension "d83" = 6
  dimension "d85" = 20
  dimension "d86" = 10
  dimension "d87" = 10
  dimension "d88" = 3
  dimension "d89" = 5
extrude "Extrusion2" add sketch "Sketch2" along normal blind 6 contours L3 L49 L2 L50 L1 L0
properties part number "phone_holder_back_back" material "Acrylic, Clear"
